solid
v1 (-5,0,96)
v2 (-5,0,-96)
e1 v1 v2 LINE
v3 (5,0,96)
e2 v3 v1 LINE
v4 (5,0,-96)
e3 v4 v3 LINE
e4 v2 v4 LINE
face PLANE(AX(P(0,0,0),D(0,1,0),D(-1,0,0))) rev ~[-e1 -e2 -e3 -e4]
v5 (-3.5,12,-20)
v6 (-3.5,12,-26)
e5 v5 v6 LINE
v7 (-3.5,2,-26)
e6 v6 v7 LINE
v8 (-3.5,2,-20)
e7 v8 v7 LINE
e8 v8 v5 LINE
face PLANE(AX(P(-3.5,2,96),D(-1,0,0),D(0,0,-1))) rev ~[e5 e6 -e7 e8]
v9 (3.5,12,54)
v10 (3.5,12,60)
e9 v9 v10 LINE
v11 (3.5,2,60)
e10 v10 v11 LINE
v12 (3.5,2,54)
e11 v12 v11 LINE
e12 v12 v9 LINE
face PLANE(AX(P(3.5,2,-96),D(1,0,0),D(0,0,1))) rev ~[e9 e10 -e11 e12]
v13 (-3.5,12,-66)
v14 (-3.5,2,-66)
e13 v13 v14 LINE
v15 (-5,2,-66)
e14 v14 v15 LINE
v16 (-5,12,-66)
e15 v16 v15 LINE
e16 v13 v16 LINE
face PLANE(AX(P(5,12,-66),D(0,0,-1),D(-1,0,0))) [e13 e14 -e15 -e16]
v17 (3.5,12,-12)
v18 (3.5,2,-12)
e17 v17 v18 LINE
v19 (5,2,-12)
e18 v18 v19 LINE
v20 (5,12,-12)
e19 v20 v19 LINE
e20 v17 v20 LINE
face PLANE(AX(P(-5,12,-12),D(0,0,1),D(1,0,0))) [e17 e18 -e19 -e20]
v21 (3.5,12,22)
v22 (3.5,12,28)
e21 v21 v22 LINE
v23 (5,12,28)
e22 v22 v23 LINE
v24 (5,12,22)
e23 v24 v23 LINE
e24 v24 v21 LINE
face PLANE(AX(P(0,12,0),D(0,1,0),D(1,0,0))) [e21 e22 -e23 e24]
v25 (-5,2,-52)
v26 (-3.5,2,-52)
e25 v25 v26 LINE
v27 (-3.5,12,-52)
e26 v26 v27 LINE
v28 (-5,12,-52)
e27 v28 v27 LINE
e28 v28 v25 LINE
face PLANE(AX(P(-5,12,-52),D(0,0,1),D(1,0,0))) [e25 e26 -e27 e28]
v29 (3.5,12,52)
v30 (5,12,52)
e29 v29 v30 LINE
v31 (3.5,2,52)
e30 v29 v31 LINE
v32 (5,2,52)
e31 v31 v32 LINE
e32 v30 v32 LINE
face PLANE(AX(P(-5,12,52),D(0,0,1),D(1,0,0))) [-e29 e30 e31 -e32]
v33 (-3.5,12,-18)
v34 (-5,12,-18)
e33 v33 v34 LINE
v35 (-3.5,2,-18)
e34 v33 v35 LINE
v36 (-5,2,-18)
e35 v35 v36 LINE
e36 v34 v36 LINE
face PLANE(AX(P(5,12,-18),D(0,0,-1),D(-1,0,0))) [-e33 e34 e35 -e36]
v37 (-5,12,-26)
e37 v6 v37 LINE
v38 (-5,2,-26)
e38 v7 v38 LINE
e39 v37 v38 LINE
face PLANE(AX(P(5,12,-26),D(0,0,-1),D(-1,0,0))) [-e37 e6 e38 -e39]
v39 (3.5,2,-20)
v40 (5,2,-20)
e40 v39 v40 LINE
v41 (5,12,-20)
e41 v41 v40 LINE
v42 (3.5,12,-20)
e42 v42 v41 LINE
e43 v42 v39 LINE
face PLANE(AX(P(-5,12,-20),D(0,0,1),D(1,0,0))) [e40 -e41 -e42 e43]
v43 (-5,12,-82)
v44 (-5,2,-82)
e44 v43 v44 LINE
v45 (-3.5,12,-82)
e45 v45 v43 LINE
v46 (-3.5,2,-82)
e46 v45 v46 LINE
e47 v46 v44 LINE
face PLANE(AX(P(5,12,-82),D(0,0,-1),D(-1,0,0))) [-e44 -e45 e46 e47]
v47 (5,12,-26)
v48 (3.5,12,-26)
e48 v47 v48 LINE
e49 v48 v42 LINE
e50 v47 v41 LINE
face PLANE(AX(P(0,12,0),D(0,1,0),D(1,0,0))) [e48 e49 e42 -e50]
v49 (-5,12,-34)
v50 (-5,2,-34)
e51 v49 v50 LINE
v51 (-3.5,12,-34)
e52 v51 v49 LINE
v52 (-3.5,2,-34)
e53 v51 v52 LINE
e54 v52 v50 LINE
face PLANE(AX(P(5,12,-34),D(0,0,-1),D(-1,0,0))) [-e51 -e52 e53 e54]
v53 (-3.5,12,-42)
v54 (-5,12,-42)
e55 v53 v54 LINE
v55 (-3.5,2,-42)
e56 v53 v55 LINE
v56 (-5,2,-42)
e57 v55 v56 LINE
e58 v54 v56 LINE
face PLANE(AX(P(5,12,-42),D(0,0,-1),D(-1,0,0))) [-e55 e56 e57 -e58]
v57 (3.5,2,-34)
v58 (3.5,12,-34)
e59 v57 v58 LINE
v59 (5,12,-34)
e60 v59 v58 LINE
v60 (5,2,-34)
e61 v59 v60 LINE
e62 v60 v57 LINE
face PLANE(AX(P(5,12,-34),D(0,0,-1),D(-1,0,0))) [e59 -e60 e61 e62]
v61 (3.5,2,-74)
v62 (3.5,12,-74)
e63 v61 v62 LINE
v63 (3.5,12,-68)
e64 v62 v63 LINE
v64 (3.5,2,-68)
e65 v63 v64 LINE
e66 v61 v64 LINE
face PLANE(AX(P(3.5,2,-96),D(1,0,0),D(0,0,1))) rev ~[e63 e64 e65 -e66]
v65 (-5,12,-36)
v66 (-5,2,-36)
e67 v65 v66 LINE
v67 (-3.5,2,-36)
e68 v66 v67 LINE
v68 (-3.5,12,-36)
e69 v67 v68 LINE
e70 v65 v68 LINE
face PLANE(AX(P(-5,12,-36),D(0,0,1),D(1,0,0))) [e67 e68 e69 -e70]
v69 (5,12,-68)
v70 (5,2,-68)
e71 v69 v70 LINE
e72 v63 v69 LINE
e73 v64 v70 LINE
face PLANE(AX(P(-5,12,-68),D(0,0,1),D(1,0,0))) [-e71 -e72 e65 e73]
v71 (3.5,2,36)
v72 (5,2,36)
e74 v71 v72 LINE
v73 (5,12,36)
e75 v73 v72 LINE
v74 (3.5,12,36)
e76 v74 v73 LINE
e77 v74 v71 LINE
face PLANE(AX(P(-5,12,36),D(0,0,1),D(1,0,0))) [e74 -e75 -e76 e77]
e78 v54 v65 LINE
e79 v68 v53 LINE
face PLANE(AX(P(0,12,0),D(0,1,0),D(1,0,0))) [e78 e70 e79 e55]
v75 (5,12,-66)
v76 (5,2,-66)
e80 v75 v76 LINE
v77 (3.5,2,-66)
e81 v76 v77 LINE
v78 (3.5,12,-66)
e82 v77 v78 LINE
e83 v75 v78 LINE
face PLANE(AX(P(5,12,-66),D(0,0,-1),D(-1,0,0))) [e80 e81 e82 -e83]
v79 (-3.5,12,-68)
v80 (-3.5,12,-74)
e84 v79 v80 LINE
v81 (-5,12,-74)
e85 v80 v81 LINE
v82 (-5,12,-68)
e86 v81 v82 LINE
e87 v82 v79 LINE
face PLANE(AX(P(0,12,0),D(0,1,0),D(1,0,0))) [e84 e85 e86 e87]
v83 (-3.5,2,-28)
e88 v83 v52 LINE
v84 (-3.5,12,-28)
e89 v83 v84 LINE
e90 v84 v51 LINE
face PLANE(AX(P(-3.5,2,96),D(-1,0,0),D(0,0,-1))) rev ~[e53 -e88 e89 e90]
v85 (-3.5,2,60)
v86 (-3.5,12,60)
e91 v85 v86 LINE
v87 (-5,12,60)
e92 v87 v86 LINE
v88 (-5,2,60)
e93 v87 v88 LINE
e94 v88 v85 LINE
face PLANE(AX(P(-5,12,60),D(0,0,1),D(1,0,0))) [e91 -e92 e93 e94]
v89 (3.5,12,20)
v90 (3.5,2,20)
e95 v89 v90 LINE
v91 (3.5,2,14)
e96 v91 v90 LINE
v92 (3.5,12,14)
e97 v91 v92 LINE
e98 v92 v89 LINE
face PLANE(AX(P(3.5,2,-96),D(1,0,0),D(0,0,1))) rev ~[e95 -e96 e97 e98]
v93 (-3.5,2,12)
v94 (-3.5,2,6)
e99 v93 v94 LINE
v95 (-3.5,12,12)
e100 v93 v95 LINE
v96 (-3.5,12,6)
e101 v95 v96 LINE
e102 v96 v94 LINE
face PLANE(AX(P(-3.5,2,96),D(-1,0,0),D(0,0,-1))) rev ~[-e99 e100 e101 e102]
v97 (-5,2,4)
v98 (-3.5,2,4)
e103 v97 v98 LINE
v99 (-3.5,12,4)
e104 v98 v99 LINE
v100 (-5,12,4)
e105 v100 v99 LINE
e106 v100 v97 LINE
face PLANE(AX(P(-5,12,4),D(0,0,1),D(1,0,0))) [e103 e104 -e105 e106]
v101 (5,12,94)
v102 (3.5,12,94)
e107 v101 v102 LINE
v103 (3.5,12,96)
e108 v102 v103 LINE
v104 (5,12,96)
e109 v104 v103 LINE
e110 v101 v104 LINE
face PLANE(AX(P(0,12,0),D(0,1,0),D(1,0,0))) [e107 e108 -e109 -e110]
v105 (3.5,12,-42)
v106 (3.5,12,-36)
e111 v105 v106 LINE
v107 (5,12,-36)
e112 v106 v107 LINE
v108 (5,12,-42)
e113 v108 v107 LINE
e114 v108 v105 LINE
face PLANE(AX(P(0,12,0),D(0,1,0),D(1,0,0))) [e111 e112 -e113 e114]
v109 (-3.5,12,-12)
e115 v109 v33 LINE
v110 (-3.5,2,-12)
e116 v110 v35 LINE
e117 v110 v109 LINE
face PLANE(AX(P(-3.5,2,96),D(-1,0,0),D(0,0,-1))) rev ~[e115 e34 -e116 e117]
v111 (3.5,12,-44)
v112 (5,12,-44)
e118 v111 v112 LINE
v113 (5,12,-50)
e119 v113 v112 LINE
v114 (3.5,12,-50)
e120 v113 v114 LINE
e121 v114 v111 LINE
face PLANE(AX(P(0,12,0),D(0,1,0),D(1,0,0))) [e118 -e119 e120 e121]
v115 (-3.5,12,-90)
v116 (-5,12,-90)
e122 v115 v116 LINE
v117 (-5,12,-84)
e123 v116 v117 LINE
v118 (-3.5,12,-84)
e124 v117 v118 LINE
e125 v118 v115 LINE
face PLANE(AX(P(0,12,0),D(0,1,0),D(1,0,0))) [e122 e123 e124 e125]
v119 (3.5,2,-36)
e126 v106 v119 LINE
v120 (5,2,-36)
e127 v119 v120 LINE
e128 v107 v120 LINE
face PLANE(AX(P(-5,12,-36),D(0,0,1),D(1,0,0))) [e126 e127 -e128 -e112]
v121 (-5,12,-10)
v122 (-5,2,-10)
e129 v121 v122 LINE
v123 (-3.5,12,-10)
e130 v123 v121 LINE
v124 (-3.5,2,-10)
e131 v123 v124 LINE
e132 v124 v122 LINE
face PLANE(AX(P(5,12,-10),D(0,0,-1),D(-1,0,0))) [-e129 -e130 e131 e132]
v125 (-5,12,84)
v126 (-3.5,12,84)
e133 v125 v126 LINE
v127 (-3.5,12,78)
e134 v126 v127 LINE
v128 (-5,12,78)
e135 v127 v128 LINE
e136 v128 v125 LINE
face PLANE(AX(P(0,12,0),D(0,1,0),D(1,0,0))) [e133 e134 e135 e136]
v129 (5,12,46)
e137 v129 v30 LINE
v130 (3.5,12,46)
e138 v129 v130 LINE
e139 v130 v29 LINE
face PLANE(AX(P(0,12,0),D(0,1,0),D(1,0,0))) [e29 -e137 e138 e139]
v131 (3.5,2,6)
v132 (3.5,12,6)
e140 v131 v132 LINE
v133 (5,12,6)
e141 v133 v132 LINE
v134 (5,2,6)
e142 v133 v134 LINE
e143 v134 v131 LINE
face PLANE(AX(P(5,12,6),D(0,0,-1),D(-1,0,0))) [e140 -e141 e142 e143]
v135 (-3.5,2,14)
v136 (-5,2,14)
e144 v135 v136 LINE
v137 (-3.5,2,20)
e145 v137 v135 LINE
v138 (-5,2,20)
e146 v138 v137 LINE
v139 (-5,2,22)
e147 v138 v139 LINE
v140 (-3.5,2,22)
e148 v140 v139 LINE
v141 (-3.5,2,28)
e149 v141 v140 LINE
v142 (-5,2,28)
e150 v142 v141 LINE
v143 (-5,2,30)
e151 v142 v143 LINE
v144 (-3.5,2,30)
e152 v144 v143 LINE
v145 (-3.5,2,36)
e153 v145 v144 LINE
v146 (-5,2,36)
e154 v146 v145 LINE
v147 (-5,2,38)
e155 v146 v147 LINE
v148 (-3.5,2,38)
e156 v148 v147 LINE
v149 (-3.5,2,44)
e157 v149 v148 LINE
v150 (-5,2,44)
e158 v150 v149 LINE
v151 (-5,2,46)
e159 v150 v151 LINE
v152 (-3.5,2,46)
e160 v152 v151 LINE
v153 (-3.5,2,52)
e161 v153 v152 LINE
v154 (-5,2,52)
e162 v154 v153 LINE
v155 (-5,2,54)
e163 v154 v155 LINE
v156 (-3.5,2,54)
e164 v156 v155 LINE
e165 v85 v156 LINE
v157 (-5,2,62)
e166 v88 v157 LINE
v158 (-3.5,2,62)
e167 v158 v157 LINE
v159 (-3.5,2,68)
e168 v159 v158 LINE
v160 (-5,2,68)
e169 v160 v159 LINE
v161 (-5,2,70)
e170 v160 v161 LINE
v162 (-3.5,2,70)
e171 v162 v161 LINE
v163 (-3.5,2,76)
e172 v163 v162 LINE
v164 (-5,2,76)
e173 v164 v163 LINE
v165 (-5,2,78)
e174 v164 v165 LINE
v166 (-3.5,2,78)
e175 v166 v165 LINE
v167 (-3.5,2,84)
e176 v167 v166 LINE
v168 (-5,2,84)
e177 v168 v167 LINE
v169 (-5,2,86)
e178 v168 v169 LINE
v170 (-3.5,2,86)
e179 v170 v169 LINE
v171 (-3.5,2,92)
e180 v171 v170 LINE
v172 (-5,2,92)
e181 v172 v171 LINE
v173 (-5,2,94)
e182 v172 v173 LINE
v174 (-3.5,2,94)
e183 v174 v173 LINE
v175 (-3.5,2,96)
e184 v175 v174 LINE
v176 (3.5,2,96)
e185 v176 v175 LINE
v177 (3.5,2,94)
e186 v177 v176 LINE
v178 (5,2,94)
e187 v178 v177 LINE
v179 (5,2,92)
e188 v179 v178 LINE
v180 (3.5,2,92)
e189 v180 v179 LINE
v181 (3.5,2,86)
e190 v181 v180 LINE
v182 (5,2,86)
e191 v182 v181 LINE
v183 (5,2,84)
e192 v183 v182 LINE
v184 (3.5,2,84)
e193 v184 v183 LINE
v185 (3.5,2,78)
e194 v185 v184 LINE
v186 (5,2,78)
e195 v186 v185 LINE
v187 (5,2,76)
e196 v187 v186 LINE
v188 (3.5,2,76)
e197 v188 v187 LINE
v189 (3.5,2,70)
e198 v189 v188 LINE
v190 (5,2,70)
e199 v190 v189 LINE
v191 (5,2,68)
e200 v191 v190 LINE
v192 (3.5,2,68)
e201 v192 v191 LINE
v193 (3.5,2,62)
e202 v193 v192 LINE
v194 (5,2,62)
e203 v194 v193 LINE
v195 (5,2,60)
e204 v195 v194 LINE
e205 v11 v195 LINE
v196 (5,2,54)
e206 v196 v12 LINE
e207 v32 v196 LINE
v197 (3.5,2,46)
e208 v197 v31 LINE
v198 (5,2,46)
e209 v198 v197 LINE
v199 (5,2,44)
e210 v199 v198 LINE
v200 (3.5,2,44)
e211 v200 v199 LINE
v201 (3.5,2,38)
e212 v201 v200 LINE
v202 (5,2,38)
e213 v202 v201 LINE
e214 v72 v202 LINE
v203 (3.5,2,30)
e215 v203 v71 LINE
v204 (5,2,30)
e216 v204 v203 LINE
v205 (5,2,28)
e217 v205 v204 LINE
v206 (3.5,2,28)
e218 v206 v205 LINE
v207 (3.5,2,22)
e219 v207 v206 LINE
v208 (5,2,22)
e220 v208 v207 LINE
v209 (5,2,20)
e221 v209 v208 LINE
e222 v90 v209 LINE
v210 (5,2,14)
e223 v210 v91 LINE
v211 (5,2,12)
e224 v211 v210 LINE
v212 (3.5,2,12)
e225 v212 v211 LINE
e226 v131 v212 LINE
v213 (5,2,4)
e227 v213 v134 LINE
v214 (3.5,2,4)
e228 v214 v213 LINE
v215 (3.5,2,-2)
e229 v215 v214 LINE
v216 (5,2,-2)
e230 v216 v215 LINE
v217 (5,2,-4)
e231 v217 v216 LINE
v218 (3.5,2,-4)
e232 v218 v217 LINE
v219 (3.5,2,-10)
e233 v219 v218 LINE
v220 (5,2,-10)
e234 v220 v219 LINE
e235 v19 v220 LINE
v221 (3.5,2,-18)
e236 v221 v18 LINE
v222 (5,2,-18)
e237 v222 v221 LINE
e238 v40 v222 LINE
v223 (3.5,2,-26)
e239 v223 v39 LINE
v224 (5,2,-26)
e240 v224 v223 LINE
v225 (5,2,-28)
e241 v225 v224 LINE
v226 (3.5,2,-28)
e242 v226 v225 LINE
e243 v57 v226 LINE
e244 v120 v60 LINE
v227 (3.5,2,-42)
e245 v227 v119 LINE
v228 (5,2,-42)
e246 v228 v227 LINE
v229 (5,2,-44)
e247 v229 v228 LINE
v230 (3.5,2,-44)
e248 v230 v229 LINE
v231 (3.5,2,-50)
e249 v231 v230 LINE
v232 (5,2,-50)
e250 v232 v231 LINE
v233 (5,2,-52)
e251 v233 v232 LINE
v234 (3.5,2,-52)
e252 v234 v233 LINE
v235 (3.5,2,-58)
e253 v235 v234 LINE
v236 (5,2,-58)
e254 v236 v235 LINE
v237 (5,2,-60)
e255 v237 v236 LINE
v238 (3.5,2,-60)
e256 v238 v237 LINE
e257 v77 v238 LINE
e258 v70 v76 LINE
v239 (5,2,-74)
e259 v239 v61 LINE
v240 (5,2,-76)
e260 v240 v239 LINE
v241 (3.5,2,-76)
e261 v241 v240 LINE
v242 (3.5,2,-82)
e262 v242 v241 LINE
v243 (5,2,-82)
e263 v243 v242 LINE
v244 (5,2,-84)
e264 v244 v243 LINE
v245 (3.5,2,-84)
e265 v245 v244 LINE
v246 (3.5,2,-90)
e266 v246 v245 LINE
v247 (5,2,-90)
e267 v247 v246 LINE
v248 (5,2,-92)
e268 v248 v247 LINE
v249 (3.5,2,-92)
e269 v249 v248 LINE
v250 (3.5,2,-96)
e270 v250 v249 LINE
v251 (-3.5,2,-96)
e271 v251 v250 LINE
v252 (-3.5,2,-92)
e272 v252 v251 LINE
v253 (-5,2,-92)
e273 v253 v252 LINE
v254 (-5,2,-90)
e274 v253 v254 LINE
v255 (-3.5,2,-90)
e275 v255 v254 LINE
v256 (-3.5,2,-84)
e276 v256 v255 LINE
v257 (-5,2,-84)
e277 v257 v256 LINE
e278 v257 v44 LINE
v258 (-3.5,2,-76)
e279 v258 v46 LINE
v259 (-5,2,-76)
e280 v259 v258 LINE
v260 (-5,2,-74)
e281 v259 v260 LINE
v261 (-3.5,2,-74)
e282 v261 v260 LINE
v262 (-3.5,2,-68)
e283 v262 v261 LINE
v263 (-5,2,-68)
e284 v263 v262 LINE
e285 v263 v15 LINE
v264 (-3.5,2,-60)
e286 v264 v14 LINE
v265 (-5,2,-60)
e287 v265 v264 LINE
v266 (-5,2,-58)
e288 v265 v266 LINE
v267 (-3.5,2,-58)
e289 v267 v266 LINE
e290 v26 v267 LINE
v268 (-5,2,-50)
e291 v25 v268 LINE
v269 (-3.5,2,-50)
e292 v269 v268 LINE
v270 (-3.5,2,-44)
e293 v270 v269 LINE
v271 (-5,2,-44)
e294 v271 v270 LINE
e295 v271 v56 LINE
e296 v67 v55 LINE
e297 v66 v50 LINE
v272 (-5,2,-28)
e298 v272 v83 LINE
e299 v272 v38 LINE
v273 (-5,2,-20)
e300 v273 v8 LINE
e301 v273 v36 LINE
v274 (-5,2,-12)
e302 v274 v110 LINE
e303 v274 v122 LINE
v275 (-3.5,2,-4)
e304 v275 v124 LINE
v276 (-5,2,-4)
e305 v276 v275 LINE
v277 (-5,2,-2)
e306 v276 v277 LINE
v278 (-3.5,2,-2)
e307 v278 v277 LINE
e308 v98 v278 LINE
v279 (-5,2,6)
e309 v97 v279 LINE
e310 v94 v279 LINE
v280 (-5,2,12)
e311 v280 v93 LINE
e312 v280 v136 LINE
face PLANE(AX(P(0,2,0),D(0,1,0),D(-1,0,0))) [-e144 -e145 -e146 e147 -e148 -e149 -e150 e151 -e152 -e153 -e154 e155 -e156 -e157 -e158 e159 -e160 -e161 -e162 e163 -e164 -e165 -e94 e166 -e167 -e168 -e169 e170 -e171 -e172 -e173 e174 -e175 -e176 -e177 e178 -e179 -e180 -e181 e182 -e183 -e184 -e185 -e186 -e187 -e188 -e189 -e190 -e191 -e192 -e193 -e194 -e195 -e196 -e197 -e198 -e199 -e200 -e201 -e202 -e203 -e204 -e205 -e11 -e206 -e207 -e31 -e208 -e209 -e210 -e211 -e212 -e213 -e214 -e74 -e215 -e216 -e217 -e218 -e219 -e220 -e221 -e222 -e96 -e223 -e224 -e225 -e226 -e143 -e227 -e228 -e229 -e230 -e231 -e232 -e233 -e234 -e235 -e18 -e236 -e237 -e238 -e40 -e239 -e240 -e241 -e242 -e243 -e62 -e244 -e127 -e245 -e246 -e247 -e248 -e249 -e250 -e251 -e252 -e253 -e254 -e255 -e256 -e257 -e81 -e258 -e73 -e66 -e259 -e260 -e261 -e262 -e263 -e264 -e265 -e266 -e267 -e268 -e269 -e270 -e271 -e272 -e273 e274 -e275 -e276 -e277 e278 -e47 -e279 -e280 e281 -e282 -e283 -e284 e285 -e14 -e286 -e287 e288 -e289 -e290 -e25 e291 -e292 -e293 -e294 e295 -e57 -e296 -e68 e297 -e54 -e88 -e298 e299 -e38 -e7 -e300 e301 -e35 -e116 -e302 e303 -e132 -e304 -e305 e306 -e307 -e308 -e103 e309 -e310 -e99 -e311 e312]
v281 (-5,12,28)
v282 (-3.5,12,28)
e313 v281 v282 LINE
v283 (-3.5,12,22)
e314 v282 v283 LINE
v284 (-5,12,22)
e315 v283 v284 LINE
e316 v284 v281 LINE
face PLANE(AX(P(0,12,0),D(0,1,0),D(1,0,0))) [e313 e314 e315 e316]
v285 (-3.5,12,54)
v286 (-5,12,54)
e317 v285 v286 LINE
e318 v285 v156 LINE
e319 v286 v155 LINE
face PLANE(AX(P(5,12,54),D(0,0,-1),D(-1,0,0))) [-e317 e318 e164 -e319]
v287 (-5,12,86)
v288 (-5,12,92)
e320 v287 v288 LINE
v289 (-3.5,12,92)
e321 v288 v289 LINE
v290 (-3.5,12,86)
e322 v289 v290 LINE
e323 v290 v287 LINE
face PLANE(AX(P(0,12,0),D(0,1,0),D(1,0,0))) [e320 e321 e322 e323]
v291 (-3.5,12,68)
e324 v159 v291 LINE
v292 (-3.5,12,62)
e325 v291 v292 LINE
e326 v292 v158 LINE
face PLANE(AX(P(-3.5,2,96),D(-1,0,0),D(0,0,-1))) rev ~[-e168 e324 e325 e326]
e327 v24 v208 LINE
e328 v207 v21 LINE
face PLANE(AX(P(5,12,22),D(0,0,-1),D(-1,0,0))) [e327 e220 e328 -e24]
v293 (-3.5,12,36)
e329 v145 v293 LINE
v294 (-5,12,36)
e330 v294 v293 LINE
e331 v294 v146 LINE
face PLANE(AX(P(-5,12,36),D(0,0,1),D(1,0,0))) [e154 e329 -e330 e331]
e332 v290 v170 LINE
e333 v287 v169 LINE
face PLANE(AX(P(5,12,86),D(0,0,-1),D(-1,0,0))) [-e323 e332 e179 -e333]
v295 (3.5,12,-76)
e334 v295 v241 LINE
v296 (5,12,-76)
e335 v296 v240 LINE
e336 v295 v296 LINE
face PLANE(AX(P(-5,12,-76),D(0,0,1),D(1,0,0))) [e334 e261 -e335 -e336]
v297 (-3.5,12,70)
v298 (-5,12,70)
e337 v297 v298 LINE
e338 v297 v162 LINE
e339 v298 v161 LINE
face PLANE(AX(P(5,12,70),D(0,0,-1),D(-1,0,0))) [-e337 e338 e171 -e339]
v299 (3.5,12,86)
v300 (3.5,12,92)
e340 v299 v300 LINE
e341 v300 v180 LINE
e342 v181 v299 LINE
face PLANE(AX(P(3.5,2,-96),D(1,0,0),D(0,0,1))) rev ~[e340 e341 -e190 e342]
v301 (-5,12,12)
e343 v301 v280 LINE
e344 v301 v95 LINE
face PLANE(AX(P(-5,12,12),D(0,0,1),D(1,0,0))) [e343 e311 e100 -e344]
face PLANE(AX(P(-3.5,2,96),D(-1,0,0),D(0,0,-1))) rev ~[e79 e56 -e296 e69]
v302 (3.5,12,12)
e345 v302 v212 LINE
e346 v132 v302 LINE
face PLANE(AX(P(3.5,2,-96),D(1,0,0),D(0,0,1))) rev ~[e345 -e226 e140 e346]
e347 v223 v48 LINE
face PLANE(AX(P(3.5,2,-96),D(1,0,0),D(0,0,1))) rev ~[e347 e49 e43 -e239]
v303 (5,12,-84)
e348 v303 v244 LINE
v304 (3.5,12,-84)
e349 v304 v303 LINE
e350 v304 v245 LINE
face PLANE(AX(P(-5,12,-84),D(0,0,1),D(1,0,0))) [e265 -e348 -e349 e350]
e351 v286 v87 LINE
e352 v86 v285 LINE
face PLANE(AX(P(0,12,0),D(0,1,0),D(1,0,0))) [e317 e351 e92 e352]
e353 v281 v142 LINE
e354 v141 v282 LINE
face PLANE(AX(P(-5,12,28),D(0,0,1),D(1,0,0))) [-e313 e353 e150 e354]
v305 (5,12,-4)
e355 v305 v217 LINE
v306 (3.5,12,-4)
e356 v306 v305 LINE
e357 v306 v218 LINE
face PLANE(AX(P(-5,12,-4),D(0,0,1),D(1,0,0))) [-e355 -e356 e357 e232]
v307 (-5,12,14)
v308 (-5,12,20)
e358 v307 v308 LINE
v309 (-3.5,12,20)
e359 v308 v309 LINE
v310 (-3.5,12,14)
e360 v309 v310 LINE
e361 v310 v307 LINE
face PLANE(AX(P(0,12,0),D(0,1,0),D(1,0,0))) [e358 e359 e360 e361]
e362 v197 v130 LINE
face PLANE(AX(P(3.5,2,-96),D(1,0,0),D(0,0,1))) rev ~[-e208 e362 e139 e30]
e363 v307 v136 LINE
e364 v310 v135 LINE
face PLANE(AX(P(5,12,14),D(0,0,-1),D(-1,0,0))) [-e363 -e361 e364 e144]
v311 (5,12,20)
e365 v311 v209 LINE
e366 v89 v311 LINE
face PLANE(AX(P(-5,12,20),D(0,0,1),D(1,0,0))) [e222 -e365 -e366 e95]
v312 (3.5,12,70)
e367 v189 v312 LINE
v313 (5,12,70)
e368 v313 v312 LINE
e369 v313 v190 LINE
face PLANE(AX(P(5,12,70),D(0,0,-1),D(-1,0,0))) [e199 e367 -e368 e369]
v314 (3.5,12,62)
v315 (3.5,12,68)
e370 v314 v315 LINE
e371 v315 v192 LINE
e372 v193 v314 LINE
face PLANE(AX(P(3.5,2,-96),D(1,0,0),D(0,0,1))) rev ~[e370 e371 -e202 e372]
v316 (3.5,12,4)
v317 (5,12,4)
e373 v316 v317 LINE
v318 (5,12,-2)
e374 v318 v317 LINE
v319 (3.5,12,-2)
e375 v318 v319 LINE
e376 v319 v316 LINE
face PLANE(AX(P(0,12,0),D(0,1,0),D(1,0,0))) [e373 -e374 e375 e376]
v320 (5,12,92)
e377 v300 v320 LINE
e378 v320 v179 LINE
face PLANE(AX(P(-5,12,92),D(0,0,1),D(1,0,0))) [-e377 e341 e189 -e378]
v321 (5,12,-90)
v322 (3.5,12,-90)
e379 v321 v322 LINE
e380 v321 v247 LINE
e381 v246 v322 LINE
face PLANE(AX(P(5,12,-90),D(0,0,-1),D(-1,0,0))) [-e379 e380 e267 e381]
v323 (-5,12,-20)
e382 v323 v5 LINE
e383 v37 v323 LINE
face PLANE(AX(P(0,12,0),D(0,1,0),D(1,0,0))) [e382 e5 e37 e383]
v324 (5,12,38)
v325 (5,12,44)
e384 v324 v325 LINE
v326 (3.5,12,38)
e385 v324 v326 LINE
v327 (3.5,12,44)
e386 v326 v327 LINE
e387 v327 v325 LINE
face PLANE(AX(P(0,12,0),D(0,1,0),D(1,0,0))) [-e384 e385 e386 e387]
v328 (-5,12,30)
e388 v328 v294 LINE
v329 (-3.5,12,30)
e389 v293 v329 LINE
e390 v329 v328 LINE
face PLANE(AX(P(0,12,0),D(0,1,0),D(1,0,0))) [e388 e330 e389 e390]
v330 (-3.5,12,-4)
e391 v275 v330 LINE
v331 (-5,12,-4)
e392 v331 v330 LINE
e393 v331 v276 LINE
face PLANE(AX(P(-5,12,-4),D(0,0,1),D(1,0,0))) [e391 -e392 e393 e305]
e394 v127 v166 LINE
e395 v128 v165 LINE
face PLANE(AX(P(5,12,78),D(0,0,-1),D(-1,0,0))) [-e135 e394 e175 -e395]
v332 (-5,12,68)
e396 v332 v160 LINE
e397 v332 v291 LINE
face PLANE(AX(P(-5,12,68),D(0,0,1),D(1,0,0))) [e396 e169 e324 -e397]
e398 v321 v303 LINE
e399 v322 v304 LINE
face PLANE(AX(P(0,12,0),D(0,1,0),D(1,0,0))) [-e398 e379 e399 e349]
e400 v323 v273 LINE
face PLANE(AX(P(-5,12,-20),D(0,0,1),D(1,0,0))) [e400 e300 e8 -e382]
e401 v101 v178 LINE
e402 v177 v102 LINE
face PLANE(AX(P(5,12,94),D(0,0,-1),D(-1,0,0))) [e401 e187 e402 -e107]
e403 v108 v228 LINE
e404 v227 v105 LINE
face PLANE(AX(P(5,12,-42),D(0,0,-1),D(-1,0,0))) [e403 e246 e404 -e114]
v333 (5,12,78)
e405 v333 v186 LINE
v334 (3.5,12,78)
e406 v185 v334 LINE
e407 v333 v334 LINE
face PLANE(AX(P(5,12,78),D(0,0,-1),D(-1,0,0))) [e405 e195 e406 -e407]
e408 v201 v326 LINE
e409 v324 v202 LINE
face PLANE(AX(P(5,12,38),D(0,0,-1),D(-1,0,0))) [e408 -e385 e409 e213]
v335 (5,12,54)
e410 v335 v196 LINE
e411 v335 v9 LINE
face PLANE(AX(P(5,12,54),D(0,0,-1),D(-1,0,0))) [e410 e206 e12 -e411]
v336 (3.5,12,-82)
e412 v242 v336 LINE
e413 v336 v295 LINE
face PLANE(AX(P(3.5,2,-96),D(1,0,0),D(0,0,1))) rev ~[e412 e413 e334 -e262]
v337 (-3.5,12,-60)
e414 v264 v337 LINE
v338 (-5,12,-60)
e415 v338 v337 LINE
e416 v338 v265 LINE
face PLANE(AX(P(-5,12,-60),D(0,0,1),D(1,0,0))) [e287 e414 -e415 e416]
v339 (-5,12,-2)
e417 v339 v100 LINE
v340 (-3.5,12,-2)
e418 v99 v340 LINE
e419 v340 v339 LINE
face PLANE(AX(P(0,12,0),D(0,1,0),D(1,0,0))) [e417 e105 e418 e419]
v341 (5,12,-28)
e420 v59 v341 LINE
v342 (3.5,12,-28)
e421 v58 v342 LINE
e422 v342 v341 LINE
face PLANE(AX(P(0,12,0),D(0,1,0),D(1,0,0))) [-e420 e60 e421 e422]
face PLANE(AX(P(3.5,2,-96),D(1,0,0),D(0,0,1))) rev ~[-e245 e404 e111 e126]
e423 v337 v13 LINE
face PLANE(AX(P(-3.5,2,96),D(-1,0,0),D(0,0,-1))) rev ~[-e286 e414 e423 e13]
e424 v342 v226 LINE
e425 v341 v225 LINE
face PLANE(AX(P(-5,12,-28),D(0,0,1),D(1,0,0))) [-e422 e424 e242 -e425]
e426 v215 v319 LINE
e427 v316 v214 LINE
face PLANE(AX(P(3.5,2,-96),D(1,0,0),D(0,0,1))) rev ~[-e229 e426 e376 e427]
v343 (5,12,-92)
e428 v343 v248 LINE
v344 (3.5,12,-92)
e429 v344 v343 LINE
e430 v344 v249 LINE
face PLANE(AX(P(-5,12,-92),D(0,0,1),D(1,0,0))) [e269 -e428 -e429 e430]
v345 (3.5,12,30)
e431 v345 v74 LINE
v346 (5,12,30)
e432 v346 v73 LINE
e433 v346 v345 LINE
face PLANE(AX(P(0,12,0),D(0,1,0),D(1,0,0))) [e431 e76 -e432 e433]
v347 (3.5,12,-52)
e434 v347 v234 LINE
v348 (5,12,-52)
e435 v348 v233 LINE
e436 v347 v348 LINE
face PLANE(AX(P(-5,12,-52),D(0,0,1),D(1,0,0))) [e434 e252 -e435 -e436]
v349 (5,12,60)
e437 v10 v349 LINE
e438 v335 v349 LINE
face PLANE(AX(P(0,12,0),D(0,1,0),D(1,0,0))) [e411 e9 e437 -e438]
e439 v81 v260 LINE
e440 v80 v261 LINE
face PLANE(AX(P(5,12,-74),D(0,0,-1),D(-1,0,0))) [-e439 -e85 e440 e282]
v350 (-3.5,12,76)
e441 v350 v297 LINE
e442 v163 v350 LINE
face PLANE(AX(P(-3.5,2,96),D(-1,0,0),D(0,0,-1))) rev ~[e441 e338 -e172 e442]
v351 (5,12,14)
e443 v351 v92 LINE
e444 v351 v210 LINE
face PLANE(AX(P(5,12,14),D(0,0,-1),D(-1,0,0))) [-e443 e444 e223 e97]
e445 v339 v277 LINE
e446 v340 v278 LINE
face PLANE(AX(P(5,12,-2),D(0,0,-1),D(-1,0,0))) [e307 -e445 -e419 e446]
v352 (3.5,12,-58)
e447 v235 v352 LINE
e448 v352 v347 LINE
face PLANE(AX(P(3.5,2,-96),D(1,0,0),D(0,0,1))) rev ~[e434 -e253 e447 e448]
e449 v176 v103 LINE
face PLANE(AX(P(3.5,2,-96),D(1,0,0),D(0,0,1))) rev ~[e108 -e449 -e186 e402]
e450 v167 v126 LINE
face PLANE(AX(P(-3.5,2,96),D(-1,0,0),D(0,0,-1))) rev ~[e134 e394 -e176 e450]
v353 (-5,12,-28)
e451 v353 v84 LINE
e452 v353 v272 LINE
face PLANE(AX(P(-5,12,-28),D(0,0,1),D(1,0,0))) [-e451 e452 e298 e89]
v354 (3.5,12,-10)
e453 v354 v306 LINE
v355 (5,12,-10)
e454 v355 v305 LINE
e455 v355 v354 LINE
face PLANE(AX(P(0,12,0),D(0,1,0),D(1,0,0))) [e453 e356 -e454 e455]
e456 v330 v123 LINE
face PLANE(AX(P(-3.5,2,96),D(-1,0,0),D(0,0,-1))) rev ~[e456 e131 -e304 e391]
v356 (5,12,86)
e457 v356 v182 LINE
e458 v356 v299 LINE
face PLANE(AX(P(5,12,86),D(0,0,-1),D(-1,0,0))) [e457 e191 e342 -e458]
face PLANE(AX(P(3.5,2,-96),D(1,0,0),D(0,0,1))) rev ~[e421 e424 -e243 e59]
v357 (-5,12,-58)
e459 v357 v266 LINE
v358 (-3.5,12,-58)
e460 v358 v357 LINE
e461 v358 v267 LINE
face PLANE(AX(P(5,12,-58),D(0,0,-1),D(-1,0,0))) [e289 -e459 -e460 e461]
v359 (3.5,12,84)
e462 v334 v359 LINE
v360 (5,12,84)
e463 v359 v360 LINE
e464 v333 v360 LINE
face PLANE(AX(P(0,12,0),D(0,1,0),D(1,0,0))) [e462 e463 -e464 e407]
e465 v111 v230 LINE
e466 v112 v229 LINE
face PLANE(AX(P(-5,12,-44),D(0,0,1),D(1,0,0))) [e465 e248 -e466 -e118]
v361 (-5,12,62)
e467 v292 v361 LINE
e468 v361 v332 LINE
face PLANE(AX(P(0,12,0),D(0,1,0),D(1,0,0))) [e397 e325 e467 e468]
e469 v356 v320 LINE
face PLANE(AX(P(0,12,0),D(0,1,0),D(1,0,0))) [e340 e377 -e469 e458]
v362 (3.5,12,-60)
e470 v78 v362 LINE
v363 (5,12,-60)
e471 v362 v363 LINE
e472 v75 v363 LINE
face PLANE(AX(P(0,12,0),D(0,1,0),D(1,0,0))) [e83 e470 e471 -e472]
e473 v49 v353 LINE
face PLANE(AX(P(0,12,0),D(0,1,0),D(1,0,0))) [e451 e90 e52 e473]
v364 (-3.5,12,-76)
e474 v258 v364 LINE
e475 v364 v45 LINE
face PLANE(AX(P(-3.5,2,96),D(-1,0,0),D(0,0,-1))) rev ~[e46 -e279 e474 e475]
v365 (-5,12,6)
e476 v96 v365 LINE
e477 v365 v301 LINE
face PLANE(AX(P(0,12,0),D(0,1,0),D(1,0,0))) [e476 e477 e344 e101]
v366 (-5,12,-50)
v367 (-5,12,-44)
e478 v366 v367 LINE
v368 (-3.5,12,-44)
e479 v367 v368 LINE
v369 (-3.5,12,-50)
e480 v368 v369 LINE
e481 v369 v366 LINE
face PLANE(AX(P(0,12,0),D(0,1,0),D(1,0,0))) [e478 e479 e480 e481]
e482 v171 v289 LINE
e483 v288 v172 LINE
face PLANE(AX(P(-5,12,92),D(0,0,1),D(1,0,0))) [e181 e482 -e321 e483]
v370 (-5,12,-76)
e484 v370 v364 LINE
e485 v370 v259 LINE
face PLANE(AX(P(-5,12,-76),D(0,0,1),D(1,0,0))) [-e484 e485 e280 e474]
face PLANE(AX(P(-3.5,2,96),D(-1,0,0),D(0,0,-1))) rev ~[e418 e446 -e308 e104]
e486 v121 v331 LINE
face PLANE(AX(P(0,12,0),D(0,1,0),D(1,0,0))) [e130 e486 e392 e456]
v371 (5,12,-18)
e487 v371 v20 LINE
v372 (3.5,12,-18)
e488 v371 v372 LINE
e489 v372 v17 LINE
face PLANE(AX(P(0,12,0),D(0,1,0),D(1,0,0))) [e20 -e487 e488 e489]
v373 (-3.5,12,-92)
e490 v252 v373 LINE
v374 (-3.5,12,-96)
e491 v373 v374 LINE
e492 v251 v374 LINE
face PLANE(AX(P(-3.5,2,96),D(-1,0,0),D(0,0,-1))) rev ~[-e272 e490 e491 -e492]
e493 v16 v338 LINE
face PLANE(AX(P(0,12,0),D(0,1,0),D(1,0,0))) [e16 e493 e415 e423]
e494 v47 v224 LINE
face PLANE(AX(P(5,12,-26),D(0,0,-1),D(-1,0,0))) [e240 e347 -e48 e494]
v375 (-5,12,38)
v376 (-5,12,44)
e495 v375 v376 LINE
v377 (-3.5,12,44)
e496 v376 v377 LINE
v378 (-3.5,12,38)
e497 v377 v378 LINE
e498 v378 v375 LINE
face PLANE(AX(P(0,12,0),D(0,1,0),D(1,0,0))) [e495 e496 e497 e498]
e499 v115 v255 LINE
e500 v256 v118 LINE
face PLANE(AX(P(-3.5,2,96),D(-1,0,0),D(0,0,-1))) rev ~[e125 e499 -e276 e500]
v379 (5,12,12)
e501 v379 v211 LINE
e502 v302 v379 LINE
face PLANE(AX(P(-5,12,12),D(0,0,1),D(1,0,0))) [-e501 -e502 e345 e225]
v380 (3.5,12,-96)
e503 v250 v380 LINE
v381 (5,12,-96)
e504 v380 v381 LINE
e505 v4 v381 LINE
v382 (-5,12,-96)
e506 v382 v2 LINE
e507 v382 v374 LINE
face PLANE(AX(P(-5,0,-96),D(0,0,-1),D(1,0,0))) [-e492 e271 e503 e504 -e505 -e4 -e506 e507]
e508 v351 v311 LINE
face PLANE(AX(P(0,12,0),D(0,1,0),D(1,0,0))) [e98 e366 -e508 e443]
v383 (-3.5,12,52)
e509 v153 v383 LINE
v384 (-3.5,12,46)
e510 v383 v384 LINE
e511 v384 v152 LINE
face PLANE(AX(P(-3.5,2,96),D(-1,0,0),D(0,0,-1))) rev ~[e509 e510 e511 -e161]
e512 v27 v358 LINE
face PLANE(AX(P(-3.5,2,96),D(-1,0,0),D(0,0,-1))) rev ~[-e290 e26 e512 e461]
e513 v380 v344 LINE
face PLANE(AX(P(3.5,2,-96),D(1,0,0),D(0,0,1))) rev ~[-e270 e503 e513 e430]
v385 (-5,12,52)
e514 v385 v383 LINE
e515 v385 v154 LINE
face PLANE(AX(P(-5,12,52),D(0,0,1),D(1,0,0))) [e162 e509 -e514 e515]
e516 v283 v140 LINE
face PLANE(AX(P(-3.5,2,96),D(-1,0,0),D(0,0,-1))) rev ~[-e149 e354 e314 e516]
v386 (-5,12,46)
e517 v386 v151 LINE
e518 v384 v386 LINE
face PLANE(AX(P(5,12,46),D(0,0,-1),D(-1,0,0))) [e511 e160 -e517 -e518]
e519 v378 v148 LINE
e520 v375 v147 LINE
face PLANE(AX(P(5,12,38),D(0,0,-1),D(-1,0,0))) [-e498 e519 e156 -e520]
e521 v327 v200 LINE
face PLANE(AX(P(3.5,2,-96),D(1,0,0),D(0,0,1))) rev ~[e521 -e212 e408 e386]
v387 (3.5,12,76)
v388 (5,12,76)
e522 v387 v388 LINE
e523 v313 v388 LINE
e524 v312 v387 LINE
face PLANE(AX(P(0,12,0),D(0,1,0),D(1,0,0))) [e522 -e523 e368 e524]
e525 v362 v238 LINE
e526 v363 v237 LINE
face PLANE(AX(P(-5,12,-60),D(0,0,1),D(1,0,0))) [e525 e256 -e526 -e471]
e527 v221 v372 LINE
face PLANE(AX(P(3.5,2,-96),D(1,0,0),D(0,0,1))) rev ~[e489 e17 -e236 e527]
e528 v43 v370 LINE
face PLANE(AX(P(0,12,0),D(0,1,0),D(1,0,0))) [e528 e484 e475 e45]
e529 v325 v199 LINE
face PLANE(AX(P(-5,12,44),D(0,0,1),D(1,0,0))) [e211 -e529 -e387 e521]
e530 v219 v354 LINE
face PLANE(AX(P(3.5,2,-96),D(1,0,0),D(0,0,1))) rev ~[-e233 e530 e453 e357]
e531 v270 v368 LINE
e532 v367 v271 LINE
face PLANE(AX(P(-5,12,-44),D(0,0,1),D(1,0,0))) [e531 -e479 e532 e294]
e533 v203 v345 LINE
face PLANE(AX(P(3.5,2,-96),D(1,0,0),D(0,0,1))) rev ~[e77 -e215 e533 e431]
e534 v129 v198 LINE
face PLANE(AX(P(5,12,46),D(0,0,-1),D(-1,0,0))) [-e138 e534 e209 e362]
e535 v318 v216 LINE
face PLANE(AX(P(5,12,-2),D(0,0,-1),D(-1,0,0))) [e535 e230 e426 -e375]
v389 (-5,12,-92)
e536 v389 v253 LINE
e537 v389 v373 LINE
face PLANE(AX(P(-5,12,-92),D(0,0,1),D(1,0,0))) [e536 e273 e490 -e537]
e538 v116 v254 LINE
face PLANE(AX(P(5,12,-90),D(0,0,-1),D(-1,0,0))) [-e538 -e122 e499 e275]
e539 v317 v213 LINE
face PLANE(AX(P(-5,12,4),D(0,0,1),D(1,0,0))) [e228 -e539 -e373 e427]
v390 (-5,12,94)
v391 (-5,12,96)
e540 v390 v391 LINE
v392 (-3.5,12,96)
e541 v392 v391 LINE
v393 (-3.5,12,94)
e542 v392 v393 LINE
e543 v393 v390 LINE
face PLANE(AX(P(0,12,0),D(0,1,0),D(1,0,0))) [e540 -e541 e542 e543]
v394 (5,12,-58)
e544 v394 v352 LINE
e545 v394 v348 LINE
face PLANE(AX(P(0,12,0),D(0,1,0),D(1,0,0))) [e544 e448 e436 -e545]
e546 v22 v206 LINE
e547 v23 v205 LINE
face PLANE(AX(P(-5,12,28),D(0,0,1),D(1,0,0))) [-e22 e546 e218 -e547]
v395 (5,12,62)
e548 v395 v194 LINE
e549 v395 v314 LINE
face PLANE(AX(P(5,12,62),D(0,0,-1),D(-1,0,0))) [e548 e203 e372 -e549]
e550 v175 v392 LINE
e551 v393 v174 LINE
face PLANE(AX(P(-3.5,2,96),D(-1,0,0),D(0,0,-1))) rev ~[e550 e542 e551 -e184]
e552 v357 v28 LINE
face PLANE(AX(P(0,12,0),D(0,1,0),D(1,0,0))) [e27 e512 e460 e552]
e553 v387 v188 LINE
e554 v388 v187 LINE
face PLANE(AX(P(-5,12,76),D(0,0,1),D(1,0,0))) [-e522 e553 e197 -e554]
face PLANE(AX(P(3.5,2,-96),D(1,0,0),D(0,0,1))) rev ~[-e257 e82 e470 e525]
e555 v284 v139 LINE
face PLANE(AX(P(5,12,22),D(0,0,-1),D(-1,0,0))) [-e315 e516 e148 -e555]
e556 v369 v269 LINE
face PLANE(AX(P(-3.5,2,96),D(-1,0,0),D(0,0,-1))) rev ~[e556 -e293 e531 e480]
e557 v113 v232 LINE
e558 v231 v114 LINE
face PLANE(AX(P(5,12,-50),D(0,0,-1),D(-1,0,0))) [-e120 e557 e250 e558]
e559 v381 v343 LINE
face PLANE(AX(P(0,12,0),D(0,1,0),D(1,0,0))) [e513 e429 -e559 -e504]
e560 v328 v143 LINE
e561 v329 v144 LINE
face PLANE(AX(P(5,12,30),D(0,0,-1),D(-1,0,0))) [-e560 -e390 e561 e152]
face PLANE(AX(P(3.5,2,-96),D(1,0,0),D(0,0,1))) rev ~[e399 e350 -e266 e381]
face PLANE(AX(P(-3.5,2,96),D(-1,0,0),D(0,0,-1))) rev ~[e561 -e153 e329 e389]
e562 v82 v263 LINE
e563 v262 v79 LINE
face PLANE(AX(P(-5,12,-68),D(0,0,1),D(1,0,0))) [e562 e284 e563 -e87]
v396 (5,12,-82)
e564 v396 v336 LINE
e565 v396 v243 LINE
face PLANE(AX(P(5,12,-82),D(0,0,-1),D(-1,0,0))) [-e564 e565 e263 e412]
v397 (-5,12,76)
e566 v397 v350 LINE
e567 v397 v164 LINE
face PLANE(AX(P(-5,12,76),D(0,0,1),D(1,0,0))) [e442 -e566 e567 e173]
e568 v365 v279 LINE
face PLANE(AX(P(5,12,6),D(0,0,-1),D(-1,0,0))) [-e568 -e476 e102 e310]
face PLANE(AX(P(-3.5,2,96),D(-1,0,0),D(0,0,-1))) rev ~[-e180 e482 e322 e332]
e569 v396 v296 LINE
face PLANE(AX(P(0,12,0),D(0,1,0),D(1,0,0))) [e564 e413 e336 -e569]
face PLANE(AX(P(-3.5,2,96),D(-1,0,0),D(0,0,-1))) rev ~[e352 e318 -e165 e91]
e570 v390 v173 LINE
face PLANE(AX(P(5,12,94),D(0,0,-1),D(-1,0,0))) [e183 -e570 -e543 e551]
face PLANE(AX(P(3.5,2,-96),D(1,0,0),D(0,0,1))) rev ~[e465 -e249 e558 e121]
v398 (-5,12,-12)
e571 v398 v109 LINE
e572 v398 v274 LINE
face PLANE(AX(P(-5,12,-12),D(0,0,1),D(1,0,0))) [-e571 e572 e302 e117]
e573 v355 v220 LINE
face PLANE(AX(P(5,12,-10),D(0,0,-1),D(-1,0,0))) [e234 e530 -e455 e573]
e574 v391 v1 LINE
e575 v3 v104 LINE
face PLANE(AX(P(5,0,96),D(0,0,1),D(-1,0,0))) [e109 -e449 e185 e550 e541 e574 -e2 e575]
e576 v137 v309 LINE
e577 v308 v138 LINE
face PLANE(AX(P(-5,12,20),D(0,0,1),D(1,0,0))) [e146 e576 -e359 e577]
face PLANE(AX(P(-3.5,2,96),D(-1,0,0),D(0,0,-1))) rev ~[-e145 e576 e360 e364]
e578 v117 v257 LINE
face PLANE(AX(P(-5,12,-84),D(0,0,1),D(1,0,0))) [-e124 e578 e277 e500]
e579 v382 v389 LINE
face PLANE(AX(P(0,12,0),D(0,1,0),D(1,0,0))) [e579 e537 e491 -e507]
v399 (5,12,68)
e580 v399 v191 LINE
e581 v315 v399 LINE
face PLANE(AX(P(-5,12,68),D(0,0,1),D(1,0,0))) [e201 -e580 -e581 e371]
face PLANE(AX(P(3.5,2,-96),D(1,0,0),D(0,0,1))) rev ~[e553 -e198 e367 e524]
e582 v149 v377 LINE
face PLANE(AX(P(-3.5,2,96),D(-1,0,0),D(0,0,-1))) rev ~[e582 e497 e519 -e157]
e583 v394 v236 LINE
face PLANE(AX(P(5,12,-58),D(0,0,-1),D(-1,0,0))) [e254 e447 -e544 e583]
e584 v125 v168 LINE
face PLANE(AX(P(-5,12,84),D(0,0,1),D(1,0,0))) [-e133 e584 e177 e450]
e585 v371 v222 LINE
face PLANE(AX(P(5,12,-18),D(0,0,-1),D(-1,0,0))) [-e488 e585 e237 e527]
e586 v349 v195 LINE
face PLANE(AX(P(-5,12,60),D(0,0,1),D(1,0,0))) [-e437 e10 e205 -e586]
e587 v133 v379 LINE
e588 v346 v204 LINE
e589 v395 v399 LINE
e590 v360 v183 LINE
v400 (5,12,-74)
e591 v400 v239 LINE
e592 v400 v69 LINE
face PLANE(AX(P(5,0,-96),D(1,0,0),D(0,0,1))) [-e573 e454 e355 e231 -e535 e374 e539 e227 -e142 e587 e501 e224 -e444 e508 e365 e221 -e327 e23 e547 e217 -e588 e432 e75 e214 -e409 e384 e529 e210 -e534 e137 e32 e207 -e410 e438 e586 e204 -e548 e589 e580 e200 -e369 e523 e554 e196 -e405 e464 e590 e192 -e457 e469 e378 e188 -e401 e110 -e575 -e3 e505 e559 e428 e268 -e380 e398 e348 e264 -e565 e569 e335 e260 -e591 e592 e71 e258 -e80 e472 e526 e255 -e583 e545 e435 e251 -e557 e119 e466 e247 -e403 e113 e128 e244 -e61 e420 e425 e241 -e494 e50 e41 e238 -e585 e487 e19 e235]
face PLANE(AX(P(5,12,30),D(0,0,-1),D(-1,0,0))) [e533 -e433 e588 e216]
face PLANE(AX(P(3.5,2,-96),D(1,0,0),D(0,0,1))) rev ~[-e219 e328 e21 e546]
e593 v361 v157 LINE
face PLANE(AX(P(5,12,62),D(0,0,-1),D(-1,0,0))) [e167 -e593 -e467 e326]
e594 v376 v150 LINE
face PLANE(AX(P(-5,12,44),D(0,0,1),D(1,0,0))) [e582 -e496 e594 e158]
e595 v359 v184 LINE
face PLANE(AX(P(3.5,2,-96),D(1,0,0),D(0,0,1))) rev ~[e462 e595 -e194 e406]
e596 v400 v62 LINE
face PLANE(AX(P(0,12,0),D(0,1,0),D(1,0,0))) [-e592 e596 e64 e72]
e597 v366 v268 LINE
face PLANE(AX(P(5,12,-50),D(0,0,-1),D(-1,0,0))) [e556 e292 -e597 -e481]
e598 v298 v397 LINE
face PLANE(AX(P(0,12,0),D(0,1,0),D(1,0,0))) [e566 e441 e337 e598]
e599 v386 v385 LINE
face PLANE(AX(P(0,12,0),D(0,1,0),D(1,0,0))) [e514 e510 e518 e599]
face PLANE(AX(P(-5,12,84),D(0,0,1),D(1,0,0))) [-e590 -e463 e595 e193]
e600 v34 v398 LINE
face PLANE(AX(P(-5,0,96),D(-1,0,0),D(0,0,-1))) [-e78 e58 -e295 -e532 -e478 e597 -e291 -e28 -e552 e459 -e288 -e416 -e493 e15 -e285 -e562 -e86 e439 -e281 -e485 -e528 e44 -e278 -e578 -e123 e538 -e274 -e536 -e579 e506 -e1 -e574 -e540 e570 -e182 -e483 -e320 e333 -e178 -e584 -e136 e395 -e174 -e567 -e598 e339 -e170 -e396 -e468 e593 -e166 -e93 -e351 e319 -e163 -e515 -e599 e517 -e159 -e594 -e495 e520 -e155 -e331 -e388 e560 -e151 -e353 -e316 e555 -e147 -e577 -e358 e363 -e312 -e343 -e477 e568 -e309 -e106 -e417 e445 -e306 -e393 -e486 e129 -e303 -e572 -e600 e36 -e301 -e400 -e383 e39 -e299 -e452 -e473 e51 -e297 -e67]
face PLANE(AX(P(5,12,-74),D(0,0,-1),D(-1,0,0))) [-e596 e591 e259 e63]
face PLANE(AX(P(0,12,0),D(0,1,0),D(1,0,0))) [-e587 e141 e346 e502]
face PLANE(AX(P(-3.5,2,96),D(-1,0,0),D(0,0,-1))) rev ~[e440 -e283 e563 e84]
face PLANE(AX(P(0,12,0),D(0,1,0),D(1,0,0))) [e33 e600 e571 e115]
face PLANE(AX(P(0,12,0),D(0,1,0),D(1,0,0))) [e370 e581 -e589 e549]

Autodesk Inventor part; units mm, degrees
ref_plane "YZ Plane" through (0, 0, 0) normal (1, 0, 0) x (0, 1, 0)
ref_plane "XZ Plane" through (0, 0, 0) normal (0, 1, 0) x (-1, 0, 0)
ref_plane "XY Plane" through (0, 0, 0) normal (0, 0, 1) x (1, 0, 0)
sketch "Эскиз1" plane through (0, 0, 0) normal (0, 1, 0) x (-1, 0, 0)
  line L0 (-5, 96) -> (5, 96)
  line L1 (5, 96) -> (5, -96)
  line L2 (5, -96) -> (-5, -96)
  line L3 (-5, -96) -> (-5, 96)
  line L4 (-5, 96) -> (5, -96) construction
  line L5 (5, 96) -> (-5, -96) construction
  point P0 (0, 0)
  dimension "d0" = 10
  dimension "d1" = 192
extrude "Выдавливание1" add sketch "Эскиз1" along normal blind 2
sketch "Эскиз2" plane through (0, 2, 0) normal (0, 1, 0) x (1, 0, 0)
  line L0 (-5, 96) -> (-5, -96) projected
  line L1 (5, -96) -> (-5, -96)
  line L2 (-5, -96) -> (-5, 96)
  line L3 (-5, 96) -> (5, 96)
  line L4 (5, 96) -> (5, -96)
  line L5 (5, -96) -> (-5, 96) construction
  line L6 (-5, -96) -> (5, 96) construction
  line L7 (5, 96) -> (-5, 96) projected
  line L8 (3.5, -96) -> (-3.5, -96)
  line L9 (-3.5, -96) -> (-3.5, 96)
  line L10 (-3.5, 96) -> (3.5, 96)
  line L11 (3.5, 96) -> (3.5, -96)
  line L12 (3.5, -96) -> (-3.5, 96) construction
  line L13 (-3.5, -96) -> (3.5, 96) construction
  point P0 (0, 0)
  dimension "d4" = 1.5
extrude "Выдавливание2" add sketch "Эскиз2" along normal blind 10 contours L3 L9 L1 L0 | L3 L4 L1 L11
sketch "Эскиз3" plane through (0, 12, 0) normal (0, 1, 0) x (1, 0, 0)
  line L0 (-5, 96) -> (-5, -96) projected
  line L1 (-5, 92) -> (5, 92)
  line L2 (5, 92) -> (5, 90)
  line L3 (5, 90) -> (-5, 90)
  line L4 (-5, 90) -> (-5, 92)
  line L5 (3.5, 96) -> (-3.5, 96) projected
  point P0 (0, 0)
  point P1 (-5, 90)
  dimension "d7" = 2
  dimension "d8" = 4
extrude "Выдавливание3" cut sketch "Эскиз3" against normal up to surface (10 mm away)
pattern_linear "Прямоуг.массив1" count 24 spacing 8 along (0, 0, 1) of "Выдавливание3"
properties part number "000.005.002 - Кабель канал"
